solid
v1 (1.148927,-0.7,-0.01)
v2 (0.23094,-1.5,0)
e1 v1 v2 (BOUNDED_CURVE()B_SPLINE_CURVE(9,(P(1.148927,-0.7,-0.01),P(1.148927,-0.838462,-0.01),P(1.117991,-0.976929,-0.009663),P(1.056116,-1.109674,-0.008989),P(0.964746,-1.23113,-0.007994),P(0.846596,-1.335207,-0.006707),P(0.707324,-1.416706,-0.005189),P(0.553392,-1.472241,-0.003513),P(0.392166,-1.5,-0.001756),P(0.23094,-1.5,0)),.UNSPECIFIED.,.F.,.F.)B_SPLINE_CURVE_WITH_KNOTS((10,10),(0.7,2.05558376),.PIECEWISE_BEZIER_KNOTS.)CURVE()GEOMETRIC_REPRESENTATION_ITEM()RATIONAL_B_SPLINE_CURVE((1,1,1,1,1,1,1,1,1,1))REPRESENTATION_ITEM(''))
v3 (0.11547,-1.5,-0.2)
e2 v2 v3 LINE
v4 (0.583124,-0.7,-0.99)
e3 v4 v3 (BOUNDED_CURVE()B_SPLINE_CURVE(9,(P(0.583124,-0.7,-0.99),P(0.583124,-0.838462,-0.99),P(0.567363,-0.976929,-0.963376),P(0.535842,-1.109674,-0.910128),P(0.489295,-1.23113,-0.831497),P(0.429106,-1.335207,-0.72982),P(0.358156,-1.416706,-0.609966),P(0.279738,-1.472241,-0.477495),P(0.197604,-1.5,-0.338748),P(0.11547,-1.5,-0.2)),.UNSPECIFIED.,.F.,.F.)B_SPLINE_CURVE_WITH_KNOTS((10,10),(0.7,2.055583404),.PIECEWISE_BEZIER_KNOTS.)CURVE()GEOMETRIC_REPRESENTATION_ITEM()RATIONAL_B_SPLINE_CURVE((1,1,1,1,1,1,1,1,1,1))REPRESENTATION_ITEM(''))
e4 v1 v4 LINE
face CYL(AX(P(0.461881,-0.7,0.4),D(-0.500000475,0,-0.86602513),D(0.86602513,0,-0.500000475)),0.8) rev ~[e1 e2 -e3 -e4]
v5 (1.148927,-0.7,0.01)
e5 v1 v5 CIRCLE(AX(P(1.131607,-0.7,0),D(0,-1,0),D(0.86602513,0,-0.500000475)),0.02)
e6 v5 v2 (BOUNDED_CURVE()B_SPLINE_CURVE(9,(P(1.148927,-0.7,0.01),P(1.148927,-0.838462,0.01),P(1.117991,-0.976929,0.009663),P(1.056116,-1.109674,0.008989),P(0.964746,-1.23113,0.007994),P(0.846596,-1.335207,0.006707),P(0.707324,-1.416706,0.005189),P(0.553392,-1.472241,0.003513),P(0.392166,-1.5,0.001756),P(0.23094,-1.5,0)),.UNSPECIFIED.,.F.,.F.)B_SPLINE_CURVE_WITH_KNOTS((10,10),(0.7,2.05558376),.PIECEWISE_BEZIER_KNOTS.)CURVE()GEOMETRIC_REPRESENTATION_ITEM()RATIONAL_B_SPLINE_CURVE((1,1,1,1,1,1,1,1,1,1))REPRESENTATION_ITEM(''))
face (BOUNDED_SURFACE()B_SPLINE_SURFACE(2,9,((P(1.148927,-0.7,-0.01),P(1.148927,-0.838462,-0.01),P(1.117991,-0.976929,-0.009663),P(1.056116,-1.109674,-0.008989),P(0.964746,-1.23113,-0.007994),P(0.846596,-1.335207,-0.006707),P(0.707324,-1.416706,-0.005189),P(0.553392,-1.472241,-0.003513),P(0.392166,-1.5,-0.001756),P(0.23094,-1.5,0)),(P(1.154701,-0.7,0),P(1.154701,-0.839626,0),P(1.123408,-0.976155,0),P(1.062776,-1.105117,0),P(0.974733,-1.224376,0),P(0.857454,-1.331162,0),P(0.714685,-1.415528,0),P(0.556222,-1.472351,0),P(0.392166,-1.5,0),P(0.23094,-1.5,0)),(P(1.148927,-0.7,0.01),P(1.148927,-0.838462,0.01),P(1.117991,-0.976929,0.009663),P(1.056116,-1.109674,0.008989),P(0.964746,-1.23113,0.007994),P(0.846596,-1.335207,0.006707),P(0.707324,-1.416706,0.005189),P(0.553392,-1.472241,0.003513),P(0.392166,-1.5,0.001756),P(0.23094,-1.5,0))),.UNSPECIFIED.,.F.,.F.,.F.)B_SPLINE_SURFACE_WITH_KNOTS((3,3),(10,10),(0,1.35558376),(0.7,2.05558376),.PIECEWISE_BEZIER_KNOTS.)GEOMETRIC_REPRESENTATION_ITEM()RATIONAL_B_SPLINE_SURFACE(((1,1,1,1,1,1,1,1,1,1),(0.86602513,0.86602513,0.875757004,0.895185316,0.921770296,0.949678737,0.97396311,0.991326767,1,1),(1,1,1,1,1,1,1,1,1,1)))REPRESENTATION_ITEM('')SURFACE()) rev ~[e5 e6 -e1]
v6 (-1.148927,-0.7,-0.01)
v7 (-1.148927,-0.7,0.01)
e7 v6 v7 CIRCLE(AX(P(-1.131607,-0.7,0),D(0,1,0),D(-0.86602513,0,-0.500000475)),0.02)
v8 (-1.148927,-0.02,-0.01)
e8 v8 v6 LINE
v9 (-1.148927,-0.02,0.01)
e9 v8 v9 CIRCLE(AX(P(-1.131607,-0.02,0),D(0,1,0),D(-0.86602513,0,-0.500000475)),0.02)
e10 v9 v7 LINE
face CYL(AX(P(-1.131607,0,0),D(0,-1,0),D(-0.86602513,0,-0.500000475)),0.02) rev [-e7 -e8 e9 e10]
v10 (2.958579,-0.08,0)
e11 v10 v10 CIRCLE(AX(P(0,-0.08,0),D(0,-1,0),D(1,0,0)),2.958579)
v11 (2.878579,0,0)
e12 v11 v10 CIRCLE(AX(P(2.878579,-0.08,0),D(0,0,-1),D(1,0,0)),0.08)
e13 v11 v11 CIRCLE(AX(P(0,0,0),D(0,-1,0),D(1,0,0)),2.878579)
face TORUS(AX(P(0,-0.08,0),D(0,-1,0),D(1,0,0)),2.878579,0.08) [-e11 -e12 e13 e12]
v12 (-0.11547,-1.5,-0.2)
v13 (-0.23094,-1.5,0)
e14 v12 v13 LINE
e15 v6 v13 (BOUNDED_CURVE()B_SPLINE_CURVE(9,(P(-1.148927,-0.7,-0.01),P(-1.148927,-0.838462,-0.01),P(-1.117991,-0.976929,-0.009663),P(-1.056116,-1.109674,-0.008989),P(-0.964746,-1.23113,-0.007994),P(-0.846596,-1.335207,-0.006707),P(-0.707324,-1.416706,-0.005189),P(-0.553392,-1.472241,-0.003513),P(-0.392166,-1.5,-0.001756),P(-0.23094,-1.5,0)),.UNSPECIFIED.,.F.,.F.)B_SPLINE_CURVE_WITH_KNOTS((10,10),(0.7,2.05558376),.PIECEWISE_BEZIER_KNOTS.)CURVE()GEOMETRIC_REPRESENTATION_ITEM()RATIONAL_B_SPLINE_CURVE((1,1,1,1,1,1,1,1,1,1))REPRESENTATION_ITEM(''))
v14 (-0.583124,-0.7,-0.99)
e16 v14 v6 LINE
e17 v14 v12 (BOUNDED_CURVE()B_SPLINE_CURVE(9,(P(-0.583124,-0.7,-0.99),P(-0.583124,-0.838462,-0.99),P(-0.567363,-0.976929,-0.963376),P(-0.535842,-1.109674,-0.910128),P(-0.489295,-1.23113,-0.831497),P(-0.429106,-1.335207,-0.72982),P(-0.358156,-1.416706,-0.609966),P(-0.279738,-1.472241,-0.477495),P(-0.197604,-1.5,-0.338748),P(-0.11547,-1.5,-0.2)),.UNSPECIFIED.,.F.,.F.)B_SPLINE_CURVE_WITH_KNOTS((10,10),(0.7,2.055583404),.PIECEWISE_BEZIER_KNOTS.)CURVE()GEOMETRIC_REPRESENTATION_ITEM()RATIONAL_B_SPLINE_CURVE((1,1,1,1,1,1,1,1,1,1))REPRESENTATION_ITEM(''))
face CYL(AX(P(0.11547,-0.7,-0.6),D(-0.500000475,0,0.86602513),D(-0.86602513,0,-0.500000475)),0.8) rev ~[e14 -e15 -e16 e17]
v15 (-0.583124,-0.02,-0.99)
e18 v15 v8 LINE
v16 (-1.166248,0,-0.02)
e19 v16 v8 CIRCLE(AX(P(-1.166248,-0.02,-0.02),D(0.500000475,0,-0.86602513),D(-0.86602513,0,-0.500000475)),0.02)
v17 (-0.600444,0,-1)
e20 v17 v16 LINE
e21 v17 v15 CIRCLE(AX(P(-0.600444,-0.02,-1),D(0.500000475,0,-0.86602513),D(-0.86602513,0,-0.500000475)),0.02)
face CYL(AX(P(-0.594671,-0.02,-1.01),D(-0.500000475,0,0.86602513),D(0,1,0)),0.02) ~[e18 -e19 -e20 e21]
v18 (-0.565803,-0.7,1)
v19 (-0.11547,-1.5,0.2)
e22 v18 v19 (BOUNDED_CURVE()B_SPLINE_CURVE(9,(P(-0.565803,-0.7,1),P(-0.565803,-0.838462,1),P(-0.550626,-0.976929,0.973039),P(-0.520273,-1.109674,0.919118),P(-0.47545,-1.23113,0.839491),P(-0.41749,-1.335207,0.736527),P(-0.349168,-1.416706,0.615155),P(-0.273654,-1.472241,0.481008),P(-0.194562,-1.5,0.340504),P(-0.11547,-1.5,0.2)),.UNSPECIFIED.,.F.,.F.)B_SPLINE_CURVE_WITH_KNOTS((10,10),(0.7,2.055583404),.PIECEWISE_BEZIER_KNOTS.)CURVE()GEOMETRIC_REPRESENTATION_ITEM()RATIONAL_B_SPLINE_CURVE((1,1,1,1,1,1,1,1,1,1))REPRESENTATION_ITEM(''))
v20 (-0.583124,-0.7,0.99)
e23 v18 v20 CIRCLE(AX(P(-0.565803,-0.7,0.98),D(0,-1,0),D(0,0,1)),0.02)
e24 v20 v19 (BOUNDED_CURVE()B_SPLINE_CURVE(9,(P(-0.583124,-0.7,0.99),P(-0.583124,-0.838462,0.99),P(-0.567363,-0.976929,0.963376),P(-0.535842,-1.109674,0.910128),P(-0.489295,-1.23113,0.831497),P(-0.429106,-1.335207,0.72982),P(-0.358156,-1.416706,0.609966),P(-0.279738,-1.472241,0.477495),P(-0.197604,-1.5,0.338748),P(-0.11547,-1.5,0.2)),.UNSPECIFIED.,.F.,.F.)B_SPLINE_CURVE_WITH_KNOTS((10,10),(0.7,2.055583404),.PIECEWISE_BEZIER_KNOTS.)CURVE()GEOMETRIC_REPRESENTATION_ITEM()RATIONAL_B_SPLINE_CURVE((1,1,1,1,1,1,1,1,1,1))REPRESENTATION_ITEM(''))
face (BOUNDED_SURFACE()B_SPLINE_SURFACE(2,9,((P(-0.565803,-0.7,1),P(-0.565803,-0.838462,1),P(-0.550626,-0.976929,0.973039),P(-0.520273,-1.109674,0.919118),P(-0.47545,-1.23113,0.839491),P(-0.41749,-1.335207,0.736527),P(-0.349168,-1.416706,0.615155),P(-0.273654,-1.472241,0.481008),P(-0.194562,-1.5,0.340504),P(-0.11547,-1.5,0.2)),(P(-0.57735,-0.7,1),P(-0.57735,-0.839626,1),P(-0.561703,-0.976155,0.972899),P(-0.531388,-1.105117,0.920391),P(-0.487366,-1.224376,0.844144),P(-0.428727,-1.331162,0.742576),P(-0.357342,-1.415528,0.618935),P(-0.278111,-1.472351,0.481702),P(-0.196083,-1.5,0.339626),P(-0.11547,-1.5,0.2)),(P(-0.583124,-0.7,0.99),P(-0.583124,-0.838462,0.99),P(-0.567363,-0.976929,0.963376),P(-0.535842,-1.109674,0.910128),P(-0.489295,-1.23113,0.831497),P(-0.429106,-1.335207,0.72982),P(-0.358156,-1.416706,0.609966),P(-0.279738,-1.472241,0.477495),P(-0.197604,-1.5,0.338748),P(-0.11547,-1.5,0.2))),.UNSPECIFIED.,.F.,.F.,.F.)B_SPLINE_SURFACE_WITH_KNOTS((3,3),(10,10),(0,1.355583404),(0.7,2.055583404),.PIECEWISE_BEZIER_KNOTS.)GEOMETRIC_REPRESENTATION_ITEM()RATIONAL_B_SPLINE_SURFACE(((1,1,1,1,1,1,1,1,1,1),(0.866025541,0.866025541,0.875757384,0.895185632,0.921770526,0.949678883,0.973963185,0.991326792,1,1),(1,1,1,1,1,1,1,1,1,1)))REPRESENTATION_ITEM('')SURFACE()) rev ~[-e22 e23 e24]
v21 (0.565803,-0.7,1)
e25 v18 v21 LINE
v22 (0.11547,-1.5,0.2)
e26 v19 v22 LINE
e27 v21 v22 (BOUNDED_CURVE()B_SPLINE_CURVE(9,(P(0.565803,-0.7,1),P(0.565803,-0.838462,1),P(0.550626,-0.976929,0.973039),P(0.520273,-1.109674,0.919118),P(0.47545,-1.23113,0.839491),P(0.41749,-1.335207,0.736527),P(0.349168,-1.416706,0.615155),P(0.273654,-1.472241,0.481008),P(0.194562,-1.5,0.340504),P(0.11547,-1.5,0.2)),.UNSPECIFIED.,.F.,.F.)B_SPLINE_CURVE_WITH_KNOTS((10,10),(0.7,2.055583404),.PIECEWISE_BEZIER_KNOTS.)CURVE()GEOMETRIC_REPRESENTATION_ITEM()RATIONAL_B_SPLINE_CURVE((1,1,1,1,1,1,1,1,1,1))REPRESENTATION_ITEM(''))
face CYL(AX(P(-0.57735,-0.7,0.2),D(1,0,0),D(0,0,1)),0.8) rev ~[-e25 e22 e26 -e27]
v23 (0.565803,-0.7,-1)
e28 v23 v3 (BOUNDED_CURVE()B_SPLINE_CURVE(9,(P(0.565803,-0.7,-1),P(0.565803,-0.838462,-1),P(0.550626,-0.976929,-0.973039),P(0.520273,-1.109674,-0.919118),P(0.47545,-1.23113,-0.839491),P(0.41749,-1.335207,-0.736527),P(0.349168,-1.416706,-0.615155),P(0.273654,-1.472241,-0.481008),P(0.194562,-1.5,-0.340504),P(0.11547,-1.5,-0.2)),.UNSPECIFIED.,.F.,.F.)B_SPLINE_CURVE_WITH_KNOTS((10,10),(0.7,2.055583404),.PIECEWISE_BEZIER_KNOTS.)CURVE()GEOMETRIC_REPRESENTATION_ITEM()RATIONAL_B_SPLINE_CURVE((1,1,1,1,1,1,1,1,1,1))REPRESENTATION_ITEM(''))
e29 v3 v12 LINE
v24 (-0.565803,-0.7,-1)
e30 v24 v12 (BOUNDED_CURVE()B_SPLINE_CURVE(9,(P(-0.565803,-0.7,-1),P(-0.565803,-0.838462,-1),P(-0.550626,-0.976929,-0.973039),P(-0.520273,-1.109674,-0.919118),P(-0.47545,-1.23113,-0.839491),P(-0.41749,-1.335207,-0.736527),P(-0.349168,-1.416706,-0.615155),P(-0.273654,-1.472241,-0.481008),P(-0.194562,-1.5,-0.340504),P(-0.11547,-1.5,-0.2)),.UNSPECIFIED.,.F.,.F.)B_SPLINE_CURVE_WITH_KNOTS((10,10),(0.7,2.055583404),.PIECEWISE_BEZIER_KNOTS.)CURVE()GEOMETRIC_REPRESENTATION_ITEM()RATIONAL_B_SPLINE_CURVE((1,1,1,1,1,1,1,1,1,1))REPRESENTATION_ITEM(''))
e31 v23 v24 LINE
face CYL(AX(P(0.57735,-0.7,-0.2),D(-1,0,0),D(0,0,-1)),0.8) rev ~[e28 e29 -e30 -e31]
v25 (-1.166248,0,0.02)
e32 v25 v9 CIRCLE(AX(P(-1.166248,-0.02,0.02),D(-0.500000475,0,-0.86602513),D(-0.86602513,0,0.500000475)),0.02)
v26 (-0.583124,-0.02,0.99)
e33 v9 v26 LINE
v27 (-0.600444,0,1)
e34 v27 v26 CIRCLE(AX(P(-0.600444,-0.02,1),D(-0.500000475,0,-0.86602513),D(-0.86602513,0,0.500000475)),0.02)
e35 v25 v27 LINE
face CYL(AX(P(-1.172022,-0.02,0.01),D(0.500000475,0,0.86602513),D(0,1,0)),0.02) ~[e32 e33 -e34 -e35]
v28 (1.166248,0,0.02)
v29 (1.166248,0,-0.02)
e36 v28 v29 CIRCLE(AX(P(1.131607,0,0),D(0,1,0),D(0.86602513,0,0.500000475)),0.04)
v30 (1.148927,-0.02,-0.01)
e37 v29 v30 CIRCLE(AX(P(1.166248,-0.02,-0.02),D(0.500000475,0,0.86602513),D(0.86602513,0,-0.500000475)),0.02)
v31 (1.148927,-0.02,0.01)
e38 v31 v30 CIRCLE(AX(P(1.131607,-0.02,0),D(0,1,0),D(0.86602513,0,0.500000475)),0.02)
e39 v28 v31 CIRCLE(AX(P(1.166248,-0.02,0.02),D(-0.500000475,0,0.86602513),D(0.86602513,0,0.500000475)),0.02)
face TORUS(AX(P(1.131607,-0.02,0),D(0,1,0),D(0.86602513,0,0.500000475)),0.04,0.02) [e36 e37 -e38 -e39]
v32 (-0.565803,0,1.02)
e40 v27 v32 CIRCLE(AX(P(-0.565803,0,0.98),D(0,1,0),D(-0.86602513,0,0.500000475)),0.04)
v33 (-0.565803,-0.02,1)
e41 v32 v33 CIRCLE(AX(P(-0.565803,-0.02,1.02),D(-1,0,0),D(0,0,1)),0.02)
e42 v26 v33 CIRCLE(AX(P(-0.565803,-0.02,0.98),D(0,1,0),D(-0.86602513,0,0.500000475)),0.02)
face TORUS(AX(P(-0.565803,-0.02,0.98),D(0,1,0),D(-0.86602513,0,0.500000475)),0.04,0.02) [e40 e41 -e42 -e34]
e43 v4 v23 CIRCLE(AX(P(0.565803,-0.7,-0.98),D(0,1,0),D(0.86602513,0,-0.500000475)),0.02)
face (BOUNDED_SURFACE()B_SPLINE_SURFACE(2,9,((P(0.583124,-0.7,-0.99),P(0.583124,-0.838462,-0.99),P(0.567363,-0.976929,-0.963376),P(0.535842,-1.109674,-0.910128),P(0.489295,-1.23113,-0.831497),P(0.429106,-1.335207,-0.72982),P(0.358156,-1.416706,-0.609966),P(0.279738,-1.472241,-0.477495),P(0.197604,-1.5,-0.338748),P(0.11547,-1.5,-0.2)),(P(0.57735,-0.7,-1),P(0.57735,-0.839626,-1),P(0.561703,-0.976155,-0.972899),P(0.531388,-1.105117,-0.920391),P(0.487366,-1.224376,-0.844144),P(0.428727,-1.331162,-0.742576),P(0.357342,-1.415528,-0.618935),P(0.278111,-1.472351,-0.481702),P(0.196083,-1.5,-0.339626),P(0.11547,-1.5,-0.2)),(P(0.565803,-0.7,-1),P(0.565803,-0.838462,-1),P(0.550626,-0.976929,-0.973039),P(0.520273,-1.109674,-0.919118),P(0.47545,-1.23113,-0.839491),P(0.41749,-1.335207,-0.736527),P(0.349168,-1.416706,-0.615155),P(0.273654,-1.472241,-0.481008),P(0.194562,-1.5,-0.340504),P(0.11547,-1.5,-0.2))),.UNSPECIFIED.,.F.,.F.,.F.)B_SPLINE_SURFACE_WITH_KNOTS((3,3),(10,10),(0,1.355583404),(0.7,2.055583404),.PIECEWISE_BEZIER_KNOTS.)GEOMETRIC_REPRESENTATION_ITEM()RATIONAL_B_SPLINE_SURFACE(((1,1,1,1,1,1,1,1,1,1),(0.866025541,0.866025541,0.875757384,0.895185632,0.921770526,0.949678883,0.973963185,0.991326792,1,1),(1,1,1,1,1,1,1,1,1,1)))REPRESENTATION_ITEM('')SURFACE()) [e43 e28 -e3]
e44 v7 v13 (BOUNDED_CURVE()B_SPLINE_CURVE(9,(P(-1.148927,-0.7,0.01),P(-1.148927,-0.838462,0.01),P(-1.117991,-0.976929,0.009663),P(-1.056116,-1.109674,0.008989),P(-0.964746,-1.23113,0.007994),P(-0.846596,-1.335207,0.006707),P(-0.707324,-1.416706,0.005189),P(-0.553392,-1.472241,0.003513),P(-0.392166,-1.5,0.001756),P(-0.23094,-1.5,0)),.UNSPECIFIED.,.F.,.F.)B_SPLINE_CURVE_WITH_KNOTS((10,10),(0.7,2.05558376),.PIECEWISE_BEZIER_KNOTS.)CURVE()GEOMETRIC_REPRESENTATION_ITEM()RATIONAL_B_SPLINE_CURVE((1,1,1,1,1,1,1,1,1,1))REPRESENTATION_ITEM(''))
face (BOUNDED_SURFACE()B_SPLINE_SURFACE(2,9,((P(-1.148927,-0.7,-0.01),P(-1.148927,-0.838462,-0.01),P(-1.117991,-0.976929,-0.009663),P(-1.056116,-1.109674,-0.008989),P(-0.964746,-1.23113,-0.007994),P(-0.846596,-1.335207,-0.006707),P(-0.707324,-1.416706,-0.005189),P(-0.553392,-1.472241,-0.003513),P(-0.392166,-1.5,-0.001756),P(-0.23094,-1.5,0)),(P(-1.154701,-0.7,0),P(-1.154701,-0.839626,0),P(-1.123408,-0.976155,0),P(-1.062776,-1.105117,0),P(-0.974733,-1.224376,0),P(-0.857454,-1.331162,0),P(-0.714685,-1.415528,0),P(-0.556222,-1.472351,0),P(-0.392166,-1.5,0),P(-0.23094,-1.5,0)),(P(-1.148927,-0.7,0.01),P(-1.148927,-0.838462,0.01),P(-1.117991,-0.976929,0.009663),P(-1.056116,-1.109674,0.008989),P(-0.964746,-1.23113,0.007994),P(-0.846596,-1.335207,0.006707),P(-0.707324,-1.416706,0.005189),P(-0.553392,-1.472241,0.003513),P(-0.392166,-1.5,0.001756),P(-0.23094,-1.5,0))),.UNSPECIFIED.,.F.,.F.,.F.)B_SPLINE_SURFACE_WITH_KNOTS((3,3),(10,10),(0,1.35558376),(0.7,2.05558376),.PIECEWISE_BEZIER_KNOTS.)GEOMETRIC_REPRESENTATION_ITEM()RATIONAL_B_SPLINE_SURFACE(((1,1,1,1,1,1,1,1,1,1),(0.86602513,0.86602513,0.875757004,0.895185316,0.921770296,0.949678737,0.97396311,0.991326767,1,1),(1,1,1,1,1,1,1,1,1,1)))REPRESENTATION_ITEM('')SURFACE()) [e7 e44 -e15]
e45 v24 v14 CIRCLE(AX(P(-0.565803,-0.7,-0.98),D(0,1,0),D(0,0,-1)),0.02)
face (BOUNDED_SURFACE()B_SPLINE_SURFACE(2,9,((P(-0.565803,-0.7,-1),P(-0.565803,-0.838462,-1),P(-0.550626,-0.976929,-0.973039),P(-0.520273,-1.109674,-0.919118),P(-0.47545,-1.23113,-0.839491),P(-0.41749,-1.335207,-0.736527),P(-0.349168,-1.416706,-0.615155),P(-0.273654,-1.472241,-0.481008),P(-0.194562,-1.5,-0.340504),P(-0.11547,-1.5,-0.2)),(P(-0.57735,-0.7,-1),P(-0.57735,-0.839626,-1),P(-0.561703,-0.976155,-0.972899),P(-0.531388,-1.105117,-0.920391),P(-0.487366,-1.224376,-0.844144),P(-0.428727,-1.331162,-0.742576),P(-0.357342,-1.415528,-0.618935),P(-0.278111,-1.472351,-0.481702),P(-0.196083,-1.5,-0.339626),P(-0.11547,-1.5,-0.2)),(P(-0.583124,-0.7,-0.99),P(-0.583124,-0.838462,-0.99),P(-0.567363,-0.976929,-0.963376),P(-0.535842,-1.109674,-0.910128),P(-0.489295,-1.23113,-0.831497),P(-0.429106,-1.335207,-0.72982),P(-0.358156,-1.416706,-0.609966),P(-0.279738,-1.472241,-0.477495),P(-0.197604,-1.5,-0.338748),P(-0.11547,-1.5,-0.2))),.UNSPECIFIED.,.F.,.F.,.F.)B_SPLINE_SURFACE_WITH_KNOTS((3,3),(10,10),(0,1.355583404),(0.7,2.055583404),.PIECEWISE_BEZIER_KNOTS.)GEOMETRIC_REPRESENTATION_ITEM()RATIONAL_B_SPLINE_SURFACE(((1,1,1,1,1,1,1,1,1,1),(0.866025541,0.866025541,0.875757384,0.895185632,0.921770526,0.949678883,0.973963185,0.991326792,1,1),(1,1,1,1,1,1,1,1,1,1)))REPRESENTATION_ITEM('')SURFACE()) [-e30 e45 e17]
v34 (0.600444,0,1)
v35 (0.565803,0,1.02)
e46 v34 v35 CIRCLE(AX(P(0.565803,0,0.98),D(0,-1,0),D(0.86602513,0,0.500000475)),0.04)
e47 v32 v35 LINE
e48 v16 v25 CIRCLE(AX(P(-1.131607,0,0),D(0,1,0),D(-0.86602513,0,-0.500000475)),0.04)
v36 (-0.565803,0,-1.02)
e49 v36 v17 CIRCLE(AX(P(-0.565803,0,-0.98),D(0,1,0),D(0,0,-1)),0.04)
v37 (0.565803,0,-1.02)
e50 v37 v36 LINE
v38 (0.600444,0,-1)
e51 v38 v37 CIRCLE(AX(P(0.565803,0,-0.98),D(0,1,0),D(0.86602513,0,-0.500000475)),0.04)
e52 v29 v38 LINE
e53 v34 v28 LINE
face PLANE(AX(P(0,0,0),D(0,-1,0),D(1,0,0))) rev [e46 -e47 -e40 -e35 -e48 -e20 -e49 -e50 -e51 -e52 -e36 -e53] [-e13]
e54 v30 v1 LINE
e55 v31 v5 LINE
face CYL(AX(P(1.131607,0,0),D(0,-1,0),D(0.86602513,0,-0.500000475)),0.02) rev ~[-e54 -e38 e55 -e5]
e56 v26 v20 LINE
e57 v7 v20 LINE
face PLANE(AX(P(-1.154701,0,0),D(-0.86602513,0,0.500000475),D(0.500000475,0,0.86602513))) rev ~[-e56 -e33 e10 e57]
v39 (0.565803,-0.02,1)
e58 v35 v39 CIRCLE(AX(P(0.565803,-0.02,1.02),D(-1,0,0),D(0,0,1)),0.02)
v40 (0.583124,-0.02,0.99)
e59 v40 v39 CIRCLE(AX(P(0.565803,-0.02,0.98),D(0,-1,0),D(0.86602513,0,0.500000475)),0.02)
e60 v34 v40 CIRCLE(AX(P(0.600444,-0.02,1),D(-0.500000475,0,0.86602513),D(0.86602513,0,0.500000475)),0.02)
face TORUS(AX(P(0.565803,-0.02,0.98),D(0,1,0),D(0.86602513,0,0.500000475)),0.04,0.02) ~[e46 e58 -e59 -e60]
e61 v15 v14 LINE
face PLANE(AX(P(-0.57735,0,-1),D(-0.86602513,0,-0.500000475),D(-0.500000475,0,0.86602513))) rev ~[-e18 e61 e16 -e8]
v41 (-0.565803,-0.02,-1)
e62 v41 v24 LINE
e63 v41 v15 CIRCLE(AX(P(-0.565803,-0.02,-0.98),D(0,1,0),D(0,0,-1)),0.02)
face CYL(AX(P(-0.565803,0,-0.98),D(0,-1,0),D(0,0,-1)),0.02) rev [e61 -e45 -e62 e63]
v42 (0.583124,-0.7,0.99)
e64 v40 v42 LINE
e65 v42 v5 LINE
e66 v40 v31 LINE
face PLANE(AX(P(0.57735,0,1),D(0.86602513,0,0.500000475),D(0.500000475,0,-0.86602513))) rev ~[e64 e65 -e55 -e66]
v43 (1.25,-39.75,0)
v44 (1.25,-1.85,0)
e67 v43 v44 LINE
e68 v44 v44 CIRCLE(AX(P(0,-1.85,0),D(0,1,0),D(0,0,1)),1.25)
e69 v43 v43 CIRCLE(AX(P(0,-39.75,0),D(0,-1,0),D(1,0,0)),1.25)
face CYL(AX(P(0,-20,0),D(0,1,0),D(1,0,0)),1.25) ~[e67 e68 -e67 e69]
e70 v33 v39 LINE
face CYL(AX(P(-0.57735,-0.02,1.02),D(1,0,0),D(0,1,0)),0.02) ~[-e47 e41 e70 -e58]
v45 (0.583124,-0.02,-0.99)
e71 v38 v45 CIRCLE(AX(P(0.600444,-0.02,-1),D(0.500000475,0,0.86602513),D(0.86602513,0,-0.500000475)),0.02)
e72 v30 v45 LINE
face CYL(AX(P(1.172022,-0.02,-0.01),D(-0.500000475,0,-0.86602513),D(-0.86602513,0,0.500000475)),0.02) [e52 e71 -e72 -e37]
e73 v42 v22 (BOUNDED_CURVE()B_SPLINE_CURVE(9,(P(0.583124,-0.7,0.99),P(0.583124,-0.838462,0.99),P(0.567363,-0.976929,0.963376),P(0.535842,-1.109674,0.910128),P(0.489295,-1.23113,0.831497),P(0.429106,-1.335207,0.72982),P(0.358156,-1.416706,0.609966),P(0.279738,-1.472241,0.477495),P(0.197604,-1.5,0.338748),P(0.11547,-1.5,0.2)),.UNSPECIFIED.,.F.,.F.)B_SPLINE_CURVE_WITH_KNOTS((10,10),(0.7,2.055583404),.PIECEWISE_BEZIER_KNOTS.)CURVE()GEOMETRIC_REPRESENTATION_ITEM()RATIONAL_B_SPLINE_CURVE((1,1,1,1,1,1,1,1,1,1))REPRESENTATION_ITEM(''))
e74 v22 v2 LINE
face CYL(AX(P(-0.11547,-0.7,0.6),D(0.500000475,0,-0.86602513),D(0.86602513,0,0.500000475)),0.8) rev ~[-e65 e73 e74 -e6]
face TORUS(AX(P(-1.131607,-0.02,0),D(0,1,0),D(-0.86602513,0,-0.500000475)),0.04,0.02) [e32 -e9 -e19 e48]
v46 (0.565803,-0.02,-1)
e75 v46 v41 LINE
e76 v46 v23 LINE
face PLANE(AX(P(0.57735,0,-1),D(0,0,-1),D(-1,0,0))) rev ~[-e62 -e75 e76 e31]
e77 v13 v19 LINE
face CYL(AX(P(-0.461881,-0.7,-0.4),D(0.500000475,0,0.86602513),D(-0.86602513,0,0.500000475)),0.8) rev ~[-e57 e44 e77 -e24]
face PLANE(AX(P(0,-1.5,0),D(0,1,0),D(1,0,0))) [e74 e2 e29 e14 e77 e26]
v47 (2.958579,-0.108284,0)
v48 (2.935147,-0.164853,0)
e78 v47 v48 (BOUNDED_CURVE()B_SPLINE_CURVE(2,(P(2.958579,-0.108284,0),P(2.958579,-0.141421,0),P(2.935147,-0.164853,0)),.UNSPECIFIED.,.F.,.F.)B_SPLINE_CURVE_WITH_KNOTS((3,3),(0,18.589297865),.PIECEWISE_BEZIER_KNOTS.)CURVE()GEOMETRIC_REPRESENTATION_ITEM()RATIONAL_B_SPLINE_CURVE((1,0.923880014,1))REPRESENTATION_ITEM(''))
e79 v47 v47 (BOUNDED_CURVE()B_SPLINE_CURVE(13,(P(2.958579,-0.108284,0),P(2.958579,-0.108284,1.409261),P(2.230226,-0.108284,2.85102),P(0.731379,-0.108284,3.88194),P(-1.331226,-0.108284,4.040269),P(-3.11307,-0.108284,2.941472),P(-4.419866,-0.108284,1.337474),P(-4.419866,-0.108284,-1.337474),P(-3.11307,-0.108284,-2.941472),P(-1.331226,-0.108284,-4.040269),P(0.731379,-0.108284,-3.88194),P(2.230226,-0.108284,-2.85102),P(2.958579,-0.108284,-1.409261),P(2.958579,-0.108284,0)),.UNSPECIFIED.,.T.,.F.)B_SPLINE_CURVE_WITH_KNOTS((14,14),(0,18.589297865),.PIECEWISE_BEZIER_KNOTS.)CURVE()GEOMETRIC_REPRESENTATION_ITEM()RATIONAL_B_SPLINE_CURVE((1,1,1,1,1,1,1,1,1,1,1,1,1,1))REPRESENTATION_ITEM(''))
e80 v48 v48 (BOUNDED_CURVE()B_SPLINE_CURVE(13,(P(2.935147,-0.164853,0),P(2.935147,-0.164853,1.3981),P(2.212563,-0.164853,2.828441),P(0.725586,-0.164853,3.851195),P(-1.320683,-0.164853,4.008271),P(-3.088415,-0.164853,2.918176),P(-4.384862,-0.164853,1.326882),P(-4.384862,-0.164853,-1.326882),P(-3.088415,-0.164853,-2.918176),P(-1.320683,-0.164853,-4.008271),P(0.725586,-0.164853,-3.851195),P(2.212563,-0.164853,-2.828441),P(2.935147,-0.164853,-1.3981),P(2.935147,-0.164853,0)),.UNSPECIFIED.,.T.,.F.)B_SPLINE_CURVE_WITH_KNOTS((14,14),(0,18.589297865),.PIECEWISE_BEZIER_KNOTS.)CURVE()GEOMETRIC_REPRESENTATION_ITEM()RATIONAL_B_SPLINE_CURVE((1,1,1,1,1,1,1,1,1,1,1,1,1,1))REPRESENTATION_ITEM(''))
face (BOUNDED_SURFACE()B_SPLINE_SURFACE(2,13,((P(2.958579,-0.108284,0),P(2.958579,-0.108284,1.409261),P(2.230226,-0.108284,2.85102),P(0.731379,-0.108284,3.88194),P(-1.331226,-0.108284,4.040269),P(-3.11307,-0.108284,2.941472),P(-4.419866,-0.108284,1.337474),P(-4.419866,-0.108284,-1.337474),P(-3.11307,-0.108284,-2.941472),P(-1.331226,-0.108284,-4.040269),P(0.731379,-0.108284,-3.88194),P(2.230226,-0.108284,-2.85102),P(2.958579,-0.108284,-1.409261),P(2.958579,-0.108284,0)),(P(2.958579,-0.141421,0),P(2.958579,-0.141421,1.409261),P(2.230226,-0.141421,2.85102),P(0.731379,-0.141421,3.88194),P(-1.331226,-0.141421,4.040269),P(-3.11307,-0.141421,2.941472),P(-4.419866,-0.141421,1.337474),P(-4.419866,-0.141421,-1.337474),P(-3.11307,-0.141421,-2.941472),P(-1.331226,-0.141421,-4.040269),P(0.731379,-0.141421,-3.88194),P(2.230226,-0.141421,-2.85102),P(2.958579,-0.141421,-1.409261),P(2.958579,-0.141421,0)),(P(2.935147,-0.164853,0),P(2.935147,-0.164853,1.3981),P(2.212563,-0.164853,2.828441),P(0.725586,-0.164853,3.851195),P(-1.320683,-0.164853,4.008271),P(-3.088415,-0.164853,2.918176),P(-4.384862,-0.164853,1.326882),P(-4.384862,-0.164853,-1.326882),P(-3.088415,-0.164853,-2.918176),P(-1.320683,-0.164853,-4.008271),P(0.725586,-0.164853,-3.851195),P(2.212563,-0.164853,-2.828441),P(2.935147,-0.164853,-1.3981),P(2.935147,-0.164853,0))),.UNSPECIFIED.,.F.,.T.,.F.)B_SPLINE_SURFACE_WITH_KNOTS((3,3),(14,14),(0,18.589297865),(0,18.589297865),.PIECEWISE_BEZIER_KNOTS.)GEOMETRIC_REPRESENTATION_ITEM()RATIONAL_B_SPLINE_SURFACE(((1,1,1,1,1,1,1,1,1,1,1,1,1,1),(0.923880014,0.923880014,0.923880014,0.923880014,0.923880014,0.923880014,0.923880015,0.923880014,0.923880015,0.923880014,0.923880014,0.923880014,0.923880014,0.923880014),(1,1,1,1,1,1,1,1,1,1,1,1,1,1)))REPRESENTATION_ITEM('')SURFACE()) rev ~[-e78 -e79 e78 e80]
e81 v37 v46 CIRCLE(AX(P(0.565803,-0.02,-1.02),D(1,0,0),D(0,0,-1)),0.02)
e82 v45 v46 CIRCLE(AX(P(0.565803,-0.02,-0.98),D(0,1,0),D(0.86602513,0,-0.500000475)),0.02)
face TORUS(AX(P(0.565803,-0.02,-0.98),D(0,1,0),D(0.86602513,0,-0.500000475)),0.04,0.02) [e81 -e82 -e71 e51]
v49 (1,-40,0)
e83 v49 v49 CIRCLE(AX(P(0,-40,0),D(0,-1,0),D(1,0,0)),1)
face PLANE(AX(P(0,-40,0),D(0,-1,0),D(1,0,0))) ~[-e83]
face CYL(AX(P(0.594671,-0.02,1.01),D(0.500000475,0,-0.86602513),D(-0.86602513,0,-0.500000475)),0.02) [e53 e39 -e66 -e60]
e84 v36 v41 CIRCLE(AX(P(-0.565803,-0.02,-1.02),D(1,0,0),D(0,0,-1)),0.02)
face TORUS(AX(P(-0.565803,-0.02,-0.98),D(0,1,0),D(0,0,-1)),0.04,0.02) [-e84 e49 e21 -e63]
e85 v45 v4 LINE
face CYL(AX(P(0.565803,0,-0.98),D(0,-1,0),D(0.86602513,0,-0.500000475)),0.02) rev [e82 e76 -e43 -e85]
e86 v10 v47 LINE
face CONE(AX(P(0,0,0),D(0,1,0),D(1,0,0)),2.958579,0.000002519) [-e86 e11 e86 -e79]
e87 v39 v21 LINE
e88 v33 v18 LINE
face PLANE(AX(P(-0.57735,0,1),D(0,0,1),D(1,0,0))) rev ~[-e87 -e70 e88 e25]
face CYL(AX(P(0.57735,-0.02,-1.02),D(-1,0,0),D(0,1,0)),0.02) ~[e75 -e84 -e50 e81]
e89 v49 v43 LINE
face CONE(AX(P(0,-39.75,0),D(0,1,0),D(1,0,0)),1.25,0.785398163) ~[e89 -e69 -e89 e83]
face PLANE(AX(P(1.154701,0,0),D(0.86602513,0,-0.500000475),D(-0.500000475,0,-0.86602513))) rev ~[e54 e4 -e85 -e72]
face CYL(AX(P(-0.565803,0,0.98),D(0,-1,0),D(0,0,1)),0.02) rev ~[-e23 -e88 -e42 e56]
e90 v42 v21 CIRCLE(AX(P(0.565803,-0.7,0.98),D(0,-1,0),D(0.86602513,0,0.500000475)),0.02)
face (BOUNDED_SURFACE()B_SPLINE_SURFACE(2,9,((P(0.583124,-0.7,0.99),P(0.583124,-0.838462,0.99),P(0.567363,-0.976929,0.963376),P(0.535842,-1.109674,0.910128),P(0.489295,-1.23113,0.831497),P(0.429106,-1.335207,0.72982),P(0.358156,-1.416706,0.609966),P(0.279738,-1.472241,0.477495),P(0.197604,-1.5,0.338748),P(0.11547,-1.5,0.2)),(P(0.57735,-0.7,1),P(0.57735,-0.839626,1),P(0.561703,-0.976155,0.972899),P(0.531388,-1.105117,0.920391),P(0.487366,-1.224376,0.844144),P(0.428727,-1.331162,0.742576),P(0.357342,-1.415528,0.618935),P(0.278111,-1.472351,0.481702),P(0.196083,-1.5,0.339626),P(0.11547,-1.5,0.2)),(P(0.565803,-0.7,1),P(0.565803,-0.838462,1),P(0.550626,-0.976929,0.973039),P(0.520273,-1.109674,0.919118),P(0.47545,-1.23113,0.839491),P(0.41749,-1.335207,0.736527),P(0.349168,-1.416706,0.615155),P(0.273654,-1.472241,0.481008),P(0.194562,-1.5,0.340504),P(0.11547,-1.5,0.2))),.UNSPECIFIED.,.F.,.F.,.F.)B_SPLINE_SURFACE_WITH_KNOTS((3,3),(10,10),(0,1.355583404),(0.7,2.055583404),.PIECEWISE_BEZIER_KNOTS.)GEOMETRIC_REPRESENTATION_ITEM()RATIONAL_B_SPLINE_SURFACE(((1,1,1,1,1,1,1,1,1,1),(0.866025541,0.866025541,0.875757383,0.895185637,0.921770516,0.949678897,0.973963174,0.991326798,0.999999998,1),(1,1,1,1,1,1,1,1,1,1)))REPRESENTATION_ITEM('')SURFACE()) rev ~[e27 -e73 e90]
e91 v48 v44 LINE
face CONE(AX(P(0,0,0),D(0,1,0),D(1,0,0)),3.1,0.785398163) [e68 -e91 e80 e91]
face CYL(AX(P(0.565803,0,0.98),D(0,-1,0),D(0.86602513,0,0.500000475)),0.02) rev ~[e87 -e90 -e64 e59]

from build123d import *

# Parameters (mm, degrees)
SKETCH8_W          = 1.25
SKETCH8_H          = 40
CHAMFER1_SIZE      = 0.25
CHAMFER2_SIZE2     = 0.2
CHAMFER2_SIZE      = 0.141421
FILLET1_R          = 0.08
CUT_EXTRUDE1_DEPTH = 1.5
FILLET2_R          = 0.8
FILLET5_R          = 0.02


with BuildPart() as part:
    # Sketch8 → Revolve1 (revolve)
    with BuildSketch(Plane.XY):
        with Locations((0.625, -20)):
            Rectangle(SKETCH8_W, SKETCH8_H)
    revolve(axis=Axis((0, 0, 0), (0, -1, 0)))

    # Chamfer1
    chamfer1_edges = [part.edges().sort_by_distance(p)[0] for p in [
        (-1.25, -40, 0),
    ]]
    chamfer(chamfer1_edges, length=CHAMFER1_SIZE)

    # Sketch13 → Revolve2 (revolve)
    with BuildSketch(Plane.XY):
        Polygon((0, 0), (3.1, 0), (0, -3.1), align=None)
    revolve(axis=Axis((0, 0, 0), (0, -1, 0)))

    # Chamfer2
    chamfer2_edges = [part.edges().sort_by_distance(p)[0] for p in [
        (-3.1, 0, 0),
    ]]
    chamfer(chamfer2_edges, length=CHAMFER2_SIZE, length2=CHAMFER2_SIZE2)

    # Fillet1
    fillet1_edges = [part.edges().sort_by_distance(p)[0] for p in [
        (-2.958578, 0, 0),
        (-2.958578, -0.141421, 0),
    ]]
    fillet(fillet1_edges, radius=FILLET1_R)

    # Sketch14 → Cut-Extrude1 (cut)
    with BuildSketch(Plane(origin=(0, 0, 0), x_dir=(1, 0, 0), z_dir=(0, 1, 0))):
        Polygon((1.154701, 0), (0.57735, 1), (-0.57735, 1), (-1.154701, 0), (-0.57735, -1), (0.57735, -1), align=None)
    extrude(amount=-CUT_EXTRUDE1_DEPTH, mode=Mode.SUBTRACT)

    # Fillet2
    fillet2_edges = [part.edges().sort_by_distance(p)[0] for p in [
        (0.866025, -1.5, 0.5),
        (0, -1.5, 1),
        (-0.866025, -1.5, 0.5),
        (-0.866025, -1.5, -0.5),
        (0, -1.5, -1),
        (0.866025, -1.5, -0.5),
    ]]
    fillet(fillet2_edges, radius=FILLET2_R)

    # Fillet5
    fillet5_edges = [part.edges().sort_by_distance(p)[0] for p in [
        (0.866025, 0, 0.5),
        (0.866025, 0, -0.5),
        (0, 0, -1),
        (-0.866025, 0, -0.5),
        (-0.866025, 0, 0.5),
        (0, 0, 1),
        (0.57735, -0.35, 1),
        (-0.57735, -0.35, 1),
        (-1.154701, -0.35, 0),
        (-0.57735, -0.35, -1),
        (0.57735, -0.35, -1),
        (1.154701, -0.35, 0),
        (-0.430209, -1.285507, -0.745143),
        (0.430209, -1.285507, -0.745143),
        (-0.860417, -1.285507, 0),
        (0.860417, -1.285507, 0),
        (-0.430209, -1.285507, 0.745143),
        (0.430209, -1.285507, 0.745143),
    ]]
    fillet(fillet5_edges, radius=FILLET5_R)


solid = part.part
